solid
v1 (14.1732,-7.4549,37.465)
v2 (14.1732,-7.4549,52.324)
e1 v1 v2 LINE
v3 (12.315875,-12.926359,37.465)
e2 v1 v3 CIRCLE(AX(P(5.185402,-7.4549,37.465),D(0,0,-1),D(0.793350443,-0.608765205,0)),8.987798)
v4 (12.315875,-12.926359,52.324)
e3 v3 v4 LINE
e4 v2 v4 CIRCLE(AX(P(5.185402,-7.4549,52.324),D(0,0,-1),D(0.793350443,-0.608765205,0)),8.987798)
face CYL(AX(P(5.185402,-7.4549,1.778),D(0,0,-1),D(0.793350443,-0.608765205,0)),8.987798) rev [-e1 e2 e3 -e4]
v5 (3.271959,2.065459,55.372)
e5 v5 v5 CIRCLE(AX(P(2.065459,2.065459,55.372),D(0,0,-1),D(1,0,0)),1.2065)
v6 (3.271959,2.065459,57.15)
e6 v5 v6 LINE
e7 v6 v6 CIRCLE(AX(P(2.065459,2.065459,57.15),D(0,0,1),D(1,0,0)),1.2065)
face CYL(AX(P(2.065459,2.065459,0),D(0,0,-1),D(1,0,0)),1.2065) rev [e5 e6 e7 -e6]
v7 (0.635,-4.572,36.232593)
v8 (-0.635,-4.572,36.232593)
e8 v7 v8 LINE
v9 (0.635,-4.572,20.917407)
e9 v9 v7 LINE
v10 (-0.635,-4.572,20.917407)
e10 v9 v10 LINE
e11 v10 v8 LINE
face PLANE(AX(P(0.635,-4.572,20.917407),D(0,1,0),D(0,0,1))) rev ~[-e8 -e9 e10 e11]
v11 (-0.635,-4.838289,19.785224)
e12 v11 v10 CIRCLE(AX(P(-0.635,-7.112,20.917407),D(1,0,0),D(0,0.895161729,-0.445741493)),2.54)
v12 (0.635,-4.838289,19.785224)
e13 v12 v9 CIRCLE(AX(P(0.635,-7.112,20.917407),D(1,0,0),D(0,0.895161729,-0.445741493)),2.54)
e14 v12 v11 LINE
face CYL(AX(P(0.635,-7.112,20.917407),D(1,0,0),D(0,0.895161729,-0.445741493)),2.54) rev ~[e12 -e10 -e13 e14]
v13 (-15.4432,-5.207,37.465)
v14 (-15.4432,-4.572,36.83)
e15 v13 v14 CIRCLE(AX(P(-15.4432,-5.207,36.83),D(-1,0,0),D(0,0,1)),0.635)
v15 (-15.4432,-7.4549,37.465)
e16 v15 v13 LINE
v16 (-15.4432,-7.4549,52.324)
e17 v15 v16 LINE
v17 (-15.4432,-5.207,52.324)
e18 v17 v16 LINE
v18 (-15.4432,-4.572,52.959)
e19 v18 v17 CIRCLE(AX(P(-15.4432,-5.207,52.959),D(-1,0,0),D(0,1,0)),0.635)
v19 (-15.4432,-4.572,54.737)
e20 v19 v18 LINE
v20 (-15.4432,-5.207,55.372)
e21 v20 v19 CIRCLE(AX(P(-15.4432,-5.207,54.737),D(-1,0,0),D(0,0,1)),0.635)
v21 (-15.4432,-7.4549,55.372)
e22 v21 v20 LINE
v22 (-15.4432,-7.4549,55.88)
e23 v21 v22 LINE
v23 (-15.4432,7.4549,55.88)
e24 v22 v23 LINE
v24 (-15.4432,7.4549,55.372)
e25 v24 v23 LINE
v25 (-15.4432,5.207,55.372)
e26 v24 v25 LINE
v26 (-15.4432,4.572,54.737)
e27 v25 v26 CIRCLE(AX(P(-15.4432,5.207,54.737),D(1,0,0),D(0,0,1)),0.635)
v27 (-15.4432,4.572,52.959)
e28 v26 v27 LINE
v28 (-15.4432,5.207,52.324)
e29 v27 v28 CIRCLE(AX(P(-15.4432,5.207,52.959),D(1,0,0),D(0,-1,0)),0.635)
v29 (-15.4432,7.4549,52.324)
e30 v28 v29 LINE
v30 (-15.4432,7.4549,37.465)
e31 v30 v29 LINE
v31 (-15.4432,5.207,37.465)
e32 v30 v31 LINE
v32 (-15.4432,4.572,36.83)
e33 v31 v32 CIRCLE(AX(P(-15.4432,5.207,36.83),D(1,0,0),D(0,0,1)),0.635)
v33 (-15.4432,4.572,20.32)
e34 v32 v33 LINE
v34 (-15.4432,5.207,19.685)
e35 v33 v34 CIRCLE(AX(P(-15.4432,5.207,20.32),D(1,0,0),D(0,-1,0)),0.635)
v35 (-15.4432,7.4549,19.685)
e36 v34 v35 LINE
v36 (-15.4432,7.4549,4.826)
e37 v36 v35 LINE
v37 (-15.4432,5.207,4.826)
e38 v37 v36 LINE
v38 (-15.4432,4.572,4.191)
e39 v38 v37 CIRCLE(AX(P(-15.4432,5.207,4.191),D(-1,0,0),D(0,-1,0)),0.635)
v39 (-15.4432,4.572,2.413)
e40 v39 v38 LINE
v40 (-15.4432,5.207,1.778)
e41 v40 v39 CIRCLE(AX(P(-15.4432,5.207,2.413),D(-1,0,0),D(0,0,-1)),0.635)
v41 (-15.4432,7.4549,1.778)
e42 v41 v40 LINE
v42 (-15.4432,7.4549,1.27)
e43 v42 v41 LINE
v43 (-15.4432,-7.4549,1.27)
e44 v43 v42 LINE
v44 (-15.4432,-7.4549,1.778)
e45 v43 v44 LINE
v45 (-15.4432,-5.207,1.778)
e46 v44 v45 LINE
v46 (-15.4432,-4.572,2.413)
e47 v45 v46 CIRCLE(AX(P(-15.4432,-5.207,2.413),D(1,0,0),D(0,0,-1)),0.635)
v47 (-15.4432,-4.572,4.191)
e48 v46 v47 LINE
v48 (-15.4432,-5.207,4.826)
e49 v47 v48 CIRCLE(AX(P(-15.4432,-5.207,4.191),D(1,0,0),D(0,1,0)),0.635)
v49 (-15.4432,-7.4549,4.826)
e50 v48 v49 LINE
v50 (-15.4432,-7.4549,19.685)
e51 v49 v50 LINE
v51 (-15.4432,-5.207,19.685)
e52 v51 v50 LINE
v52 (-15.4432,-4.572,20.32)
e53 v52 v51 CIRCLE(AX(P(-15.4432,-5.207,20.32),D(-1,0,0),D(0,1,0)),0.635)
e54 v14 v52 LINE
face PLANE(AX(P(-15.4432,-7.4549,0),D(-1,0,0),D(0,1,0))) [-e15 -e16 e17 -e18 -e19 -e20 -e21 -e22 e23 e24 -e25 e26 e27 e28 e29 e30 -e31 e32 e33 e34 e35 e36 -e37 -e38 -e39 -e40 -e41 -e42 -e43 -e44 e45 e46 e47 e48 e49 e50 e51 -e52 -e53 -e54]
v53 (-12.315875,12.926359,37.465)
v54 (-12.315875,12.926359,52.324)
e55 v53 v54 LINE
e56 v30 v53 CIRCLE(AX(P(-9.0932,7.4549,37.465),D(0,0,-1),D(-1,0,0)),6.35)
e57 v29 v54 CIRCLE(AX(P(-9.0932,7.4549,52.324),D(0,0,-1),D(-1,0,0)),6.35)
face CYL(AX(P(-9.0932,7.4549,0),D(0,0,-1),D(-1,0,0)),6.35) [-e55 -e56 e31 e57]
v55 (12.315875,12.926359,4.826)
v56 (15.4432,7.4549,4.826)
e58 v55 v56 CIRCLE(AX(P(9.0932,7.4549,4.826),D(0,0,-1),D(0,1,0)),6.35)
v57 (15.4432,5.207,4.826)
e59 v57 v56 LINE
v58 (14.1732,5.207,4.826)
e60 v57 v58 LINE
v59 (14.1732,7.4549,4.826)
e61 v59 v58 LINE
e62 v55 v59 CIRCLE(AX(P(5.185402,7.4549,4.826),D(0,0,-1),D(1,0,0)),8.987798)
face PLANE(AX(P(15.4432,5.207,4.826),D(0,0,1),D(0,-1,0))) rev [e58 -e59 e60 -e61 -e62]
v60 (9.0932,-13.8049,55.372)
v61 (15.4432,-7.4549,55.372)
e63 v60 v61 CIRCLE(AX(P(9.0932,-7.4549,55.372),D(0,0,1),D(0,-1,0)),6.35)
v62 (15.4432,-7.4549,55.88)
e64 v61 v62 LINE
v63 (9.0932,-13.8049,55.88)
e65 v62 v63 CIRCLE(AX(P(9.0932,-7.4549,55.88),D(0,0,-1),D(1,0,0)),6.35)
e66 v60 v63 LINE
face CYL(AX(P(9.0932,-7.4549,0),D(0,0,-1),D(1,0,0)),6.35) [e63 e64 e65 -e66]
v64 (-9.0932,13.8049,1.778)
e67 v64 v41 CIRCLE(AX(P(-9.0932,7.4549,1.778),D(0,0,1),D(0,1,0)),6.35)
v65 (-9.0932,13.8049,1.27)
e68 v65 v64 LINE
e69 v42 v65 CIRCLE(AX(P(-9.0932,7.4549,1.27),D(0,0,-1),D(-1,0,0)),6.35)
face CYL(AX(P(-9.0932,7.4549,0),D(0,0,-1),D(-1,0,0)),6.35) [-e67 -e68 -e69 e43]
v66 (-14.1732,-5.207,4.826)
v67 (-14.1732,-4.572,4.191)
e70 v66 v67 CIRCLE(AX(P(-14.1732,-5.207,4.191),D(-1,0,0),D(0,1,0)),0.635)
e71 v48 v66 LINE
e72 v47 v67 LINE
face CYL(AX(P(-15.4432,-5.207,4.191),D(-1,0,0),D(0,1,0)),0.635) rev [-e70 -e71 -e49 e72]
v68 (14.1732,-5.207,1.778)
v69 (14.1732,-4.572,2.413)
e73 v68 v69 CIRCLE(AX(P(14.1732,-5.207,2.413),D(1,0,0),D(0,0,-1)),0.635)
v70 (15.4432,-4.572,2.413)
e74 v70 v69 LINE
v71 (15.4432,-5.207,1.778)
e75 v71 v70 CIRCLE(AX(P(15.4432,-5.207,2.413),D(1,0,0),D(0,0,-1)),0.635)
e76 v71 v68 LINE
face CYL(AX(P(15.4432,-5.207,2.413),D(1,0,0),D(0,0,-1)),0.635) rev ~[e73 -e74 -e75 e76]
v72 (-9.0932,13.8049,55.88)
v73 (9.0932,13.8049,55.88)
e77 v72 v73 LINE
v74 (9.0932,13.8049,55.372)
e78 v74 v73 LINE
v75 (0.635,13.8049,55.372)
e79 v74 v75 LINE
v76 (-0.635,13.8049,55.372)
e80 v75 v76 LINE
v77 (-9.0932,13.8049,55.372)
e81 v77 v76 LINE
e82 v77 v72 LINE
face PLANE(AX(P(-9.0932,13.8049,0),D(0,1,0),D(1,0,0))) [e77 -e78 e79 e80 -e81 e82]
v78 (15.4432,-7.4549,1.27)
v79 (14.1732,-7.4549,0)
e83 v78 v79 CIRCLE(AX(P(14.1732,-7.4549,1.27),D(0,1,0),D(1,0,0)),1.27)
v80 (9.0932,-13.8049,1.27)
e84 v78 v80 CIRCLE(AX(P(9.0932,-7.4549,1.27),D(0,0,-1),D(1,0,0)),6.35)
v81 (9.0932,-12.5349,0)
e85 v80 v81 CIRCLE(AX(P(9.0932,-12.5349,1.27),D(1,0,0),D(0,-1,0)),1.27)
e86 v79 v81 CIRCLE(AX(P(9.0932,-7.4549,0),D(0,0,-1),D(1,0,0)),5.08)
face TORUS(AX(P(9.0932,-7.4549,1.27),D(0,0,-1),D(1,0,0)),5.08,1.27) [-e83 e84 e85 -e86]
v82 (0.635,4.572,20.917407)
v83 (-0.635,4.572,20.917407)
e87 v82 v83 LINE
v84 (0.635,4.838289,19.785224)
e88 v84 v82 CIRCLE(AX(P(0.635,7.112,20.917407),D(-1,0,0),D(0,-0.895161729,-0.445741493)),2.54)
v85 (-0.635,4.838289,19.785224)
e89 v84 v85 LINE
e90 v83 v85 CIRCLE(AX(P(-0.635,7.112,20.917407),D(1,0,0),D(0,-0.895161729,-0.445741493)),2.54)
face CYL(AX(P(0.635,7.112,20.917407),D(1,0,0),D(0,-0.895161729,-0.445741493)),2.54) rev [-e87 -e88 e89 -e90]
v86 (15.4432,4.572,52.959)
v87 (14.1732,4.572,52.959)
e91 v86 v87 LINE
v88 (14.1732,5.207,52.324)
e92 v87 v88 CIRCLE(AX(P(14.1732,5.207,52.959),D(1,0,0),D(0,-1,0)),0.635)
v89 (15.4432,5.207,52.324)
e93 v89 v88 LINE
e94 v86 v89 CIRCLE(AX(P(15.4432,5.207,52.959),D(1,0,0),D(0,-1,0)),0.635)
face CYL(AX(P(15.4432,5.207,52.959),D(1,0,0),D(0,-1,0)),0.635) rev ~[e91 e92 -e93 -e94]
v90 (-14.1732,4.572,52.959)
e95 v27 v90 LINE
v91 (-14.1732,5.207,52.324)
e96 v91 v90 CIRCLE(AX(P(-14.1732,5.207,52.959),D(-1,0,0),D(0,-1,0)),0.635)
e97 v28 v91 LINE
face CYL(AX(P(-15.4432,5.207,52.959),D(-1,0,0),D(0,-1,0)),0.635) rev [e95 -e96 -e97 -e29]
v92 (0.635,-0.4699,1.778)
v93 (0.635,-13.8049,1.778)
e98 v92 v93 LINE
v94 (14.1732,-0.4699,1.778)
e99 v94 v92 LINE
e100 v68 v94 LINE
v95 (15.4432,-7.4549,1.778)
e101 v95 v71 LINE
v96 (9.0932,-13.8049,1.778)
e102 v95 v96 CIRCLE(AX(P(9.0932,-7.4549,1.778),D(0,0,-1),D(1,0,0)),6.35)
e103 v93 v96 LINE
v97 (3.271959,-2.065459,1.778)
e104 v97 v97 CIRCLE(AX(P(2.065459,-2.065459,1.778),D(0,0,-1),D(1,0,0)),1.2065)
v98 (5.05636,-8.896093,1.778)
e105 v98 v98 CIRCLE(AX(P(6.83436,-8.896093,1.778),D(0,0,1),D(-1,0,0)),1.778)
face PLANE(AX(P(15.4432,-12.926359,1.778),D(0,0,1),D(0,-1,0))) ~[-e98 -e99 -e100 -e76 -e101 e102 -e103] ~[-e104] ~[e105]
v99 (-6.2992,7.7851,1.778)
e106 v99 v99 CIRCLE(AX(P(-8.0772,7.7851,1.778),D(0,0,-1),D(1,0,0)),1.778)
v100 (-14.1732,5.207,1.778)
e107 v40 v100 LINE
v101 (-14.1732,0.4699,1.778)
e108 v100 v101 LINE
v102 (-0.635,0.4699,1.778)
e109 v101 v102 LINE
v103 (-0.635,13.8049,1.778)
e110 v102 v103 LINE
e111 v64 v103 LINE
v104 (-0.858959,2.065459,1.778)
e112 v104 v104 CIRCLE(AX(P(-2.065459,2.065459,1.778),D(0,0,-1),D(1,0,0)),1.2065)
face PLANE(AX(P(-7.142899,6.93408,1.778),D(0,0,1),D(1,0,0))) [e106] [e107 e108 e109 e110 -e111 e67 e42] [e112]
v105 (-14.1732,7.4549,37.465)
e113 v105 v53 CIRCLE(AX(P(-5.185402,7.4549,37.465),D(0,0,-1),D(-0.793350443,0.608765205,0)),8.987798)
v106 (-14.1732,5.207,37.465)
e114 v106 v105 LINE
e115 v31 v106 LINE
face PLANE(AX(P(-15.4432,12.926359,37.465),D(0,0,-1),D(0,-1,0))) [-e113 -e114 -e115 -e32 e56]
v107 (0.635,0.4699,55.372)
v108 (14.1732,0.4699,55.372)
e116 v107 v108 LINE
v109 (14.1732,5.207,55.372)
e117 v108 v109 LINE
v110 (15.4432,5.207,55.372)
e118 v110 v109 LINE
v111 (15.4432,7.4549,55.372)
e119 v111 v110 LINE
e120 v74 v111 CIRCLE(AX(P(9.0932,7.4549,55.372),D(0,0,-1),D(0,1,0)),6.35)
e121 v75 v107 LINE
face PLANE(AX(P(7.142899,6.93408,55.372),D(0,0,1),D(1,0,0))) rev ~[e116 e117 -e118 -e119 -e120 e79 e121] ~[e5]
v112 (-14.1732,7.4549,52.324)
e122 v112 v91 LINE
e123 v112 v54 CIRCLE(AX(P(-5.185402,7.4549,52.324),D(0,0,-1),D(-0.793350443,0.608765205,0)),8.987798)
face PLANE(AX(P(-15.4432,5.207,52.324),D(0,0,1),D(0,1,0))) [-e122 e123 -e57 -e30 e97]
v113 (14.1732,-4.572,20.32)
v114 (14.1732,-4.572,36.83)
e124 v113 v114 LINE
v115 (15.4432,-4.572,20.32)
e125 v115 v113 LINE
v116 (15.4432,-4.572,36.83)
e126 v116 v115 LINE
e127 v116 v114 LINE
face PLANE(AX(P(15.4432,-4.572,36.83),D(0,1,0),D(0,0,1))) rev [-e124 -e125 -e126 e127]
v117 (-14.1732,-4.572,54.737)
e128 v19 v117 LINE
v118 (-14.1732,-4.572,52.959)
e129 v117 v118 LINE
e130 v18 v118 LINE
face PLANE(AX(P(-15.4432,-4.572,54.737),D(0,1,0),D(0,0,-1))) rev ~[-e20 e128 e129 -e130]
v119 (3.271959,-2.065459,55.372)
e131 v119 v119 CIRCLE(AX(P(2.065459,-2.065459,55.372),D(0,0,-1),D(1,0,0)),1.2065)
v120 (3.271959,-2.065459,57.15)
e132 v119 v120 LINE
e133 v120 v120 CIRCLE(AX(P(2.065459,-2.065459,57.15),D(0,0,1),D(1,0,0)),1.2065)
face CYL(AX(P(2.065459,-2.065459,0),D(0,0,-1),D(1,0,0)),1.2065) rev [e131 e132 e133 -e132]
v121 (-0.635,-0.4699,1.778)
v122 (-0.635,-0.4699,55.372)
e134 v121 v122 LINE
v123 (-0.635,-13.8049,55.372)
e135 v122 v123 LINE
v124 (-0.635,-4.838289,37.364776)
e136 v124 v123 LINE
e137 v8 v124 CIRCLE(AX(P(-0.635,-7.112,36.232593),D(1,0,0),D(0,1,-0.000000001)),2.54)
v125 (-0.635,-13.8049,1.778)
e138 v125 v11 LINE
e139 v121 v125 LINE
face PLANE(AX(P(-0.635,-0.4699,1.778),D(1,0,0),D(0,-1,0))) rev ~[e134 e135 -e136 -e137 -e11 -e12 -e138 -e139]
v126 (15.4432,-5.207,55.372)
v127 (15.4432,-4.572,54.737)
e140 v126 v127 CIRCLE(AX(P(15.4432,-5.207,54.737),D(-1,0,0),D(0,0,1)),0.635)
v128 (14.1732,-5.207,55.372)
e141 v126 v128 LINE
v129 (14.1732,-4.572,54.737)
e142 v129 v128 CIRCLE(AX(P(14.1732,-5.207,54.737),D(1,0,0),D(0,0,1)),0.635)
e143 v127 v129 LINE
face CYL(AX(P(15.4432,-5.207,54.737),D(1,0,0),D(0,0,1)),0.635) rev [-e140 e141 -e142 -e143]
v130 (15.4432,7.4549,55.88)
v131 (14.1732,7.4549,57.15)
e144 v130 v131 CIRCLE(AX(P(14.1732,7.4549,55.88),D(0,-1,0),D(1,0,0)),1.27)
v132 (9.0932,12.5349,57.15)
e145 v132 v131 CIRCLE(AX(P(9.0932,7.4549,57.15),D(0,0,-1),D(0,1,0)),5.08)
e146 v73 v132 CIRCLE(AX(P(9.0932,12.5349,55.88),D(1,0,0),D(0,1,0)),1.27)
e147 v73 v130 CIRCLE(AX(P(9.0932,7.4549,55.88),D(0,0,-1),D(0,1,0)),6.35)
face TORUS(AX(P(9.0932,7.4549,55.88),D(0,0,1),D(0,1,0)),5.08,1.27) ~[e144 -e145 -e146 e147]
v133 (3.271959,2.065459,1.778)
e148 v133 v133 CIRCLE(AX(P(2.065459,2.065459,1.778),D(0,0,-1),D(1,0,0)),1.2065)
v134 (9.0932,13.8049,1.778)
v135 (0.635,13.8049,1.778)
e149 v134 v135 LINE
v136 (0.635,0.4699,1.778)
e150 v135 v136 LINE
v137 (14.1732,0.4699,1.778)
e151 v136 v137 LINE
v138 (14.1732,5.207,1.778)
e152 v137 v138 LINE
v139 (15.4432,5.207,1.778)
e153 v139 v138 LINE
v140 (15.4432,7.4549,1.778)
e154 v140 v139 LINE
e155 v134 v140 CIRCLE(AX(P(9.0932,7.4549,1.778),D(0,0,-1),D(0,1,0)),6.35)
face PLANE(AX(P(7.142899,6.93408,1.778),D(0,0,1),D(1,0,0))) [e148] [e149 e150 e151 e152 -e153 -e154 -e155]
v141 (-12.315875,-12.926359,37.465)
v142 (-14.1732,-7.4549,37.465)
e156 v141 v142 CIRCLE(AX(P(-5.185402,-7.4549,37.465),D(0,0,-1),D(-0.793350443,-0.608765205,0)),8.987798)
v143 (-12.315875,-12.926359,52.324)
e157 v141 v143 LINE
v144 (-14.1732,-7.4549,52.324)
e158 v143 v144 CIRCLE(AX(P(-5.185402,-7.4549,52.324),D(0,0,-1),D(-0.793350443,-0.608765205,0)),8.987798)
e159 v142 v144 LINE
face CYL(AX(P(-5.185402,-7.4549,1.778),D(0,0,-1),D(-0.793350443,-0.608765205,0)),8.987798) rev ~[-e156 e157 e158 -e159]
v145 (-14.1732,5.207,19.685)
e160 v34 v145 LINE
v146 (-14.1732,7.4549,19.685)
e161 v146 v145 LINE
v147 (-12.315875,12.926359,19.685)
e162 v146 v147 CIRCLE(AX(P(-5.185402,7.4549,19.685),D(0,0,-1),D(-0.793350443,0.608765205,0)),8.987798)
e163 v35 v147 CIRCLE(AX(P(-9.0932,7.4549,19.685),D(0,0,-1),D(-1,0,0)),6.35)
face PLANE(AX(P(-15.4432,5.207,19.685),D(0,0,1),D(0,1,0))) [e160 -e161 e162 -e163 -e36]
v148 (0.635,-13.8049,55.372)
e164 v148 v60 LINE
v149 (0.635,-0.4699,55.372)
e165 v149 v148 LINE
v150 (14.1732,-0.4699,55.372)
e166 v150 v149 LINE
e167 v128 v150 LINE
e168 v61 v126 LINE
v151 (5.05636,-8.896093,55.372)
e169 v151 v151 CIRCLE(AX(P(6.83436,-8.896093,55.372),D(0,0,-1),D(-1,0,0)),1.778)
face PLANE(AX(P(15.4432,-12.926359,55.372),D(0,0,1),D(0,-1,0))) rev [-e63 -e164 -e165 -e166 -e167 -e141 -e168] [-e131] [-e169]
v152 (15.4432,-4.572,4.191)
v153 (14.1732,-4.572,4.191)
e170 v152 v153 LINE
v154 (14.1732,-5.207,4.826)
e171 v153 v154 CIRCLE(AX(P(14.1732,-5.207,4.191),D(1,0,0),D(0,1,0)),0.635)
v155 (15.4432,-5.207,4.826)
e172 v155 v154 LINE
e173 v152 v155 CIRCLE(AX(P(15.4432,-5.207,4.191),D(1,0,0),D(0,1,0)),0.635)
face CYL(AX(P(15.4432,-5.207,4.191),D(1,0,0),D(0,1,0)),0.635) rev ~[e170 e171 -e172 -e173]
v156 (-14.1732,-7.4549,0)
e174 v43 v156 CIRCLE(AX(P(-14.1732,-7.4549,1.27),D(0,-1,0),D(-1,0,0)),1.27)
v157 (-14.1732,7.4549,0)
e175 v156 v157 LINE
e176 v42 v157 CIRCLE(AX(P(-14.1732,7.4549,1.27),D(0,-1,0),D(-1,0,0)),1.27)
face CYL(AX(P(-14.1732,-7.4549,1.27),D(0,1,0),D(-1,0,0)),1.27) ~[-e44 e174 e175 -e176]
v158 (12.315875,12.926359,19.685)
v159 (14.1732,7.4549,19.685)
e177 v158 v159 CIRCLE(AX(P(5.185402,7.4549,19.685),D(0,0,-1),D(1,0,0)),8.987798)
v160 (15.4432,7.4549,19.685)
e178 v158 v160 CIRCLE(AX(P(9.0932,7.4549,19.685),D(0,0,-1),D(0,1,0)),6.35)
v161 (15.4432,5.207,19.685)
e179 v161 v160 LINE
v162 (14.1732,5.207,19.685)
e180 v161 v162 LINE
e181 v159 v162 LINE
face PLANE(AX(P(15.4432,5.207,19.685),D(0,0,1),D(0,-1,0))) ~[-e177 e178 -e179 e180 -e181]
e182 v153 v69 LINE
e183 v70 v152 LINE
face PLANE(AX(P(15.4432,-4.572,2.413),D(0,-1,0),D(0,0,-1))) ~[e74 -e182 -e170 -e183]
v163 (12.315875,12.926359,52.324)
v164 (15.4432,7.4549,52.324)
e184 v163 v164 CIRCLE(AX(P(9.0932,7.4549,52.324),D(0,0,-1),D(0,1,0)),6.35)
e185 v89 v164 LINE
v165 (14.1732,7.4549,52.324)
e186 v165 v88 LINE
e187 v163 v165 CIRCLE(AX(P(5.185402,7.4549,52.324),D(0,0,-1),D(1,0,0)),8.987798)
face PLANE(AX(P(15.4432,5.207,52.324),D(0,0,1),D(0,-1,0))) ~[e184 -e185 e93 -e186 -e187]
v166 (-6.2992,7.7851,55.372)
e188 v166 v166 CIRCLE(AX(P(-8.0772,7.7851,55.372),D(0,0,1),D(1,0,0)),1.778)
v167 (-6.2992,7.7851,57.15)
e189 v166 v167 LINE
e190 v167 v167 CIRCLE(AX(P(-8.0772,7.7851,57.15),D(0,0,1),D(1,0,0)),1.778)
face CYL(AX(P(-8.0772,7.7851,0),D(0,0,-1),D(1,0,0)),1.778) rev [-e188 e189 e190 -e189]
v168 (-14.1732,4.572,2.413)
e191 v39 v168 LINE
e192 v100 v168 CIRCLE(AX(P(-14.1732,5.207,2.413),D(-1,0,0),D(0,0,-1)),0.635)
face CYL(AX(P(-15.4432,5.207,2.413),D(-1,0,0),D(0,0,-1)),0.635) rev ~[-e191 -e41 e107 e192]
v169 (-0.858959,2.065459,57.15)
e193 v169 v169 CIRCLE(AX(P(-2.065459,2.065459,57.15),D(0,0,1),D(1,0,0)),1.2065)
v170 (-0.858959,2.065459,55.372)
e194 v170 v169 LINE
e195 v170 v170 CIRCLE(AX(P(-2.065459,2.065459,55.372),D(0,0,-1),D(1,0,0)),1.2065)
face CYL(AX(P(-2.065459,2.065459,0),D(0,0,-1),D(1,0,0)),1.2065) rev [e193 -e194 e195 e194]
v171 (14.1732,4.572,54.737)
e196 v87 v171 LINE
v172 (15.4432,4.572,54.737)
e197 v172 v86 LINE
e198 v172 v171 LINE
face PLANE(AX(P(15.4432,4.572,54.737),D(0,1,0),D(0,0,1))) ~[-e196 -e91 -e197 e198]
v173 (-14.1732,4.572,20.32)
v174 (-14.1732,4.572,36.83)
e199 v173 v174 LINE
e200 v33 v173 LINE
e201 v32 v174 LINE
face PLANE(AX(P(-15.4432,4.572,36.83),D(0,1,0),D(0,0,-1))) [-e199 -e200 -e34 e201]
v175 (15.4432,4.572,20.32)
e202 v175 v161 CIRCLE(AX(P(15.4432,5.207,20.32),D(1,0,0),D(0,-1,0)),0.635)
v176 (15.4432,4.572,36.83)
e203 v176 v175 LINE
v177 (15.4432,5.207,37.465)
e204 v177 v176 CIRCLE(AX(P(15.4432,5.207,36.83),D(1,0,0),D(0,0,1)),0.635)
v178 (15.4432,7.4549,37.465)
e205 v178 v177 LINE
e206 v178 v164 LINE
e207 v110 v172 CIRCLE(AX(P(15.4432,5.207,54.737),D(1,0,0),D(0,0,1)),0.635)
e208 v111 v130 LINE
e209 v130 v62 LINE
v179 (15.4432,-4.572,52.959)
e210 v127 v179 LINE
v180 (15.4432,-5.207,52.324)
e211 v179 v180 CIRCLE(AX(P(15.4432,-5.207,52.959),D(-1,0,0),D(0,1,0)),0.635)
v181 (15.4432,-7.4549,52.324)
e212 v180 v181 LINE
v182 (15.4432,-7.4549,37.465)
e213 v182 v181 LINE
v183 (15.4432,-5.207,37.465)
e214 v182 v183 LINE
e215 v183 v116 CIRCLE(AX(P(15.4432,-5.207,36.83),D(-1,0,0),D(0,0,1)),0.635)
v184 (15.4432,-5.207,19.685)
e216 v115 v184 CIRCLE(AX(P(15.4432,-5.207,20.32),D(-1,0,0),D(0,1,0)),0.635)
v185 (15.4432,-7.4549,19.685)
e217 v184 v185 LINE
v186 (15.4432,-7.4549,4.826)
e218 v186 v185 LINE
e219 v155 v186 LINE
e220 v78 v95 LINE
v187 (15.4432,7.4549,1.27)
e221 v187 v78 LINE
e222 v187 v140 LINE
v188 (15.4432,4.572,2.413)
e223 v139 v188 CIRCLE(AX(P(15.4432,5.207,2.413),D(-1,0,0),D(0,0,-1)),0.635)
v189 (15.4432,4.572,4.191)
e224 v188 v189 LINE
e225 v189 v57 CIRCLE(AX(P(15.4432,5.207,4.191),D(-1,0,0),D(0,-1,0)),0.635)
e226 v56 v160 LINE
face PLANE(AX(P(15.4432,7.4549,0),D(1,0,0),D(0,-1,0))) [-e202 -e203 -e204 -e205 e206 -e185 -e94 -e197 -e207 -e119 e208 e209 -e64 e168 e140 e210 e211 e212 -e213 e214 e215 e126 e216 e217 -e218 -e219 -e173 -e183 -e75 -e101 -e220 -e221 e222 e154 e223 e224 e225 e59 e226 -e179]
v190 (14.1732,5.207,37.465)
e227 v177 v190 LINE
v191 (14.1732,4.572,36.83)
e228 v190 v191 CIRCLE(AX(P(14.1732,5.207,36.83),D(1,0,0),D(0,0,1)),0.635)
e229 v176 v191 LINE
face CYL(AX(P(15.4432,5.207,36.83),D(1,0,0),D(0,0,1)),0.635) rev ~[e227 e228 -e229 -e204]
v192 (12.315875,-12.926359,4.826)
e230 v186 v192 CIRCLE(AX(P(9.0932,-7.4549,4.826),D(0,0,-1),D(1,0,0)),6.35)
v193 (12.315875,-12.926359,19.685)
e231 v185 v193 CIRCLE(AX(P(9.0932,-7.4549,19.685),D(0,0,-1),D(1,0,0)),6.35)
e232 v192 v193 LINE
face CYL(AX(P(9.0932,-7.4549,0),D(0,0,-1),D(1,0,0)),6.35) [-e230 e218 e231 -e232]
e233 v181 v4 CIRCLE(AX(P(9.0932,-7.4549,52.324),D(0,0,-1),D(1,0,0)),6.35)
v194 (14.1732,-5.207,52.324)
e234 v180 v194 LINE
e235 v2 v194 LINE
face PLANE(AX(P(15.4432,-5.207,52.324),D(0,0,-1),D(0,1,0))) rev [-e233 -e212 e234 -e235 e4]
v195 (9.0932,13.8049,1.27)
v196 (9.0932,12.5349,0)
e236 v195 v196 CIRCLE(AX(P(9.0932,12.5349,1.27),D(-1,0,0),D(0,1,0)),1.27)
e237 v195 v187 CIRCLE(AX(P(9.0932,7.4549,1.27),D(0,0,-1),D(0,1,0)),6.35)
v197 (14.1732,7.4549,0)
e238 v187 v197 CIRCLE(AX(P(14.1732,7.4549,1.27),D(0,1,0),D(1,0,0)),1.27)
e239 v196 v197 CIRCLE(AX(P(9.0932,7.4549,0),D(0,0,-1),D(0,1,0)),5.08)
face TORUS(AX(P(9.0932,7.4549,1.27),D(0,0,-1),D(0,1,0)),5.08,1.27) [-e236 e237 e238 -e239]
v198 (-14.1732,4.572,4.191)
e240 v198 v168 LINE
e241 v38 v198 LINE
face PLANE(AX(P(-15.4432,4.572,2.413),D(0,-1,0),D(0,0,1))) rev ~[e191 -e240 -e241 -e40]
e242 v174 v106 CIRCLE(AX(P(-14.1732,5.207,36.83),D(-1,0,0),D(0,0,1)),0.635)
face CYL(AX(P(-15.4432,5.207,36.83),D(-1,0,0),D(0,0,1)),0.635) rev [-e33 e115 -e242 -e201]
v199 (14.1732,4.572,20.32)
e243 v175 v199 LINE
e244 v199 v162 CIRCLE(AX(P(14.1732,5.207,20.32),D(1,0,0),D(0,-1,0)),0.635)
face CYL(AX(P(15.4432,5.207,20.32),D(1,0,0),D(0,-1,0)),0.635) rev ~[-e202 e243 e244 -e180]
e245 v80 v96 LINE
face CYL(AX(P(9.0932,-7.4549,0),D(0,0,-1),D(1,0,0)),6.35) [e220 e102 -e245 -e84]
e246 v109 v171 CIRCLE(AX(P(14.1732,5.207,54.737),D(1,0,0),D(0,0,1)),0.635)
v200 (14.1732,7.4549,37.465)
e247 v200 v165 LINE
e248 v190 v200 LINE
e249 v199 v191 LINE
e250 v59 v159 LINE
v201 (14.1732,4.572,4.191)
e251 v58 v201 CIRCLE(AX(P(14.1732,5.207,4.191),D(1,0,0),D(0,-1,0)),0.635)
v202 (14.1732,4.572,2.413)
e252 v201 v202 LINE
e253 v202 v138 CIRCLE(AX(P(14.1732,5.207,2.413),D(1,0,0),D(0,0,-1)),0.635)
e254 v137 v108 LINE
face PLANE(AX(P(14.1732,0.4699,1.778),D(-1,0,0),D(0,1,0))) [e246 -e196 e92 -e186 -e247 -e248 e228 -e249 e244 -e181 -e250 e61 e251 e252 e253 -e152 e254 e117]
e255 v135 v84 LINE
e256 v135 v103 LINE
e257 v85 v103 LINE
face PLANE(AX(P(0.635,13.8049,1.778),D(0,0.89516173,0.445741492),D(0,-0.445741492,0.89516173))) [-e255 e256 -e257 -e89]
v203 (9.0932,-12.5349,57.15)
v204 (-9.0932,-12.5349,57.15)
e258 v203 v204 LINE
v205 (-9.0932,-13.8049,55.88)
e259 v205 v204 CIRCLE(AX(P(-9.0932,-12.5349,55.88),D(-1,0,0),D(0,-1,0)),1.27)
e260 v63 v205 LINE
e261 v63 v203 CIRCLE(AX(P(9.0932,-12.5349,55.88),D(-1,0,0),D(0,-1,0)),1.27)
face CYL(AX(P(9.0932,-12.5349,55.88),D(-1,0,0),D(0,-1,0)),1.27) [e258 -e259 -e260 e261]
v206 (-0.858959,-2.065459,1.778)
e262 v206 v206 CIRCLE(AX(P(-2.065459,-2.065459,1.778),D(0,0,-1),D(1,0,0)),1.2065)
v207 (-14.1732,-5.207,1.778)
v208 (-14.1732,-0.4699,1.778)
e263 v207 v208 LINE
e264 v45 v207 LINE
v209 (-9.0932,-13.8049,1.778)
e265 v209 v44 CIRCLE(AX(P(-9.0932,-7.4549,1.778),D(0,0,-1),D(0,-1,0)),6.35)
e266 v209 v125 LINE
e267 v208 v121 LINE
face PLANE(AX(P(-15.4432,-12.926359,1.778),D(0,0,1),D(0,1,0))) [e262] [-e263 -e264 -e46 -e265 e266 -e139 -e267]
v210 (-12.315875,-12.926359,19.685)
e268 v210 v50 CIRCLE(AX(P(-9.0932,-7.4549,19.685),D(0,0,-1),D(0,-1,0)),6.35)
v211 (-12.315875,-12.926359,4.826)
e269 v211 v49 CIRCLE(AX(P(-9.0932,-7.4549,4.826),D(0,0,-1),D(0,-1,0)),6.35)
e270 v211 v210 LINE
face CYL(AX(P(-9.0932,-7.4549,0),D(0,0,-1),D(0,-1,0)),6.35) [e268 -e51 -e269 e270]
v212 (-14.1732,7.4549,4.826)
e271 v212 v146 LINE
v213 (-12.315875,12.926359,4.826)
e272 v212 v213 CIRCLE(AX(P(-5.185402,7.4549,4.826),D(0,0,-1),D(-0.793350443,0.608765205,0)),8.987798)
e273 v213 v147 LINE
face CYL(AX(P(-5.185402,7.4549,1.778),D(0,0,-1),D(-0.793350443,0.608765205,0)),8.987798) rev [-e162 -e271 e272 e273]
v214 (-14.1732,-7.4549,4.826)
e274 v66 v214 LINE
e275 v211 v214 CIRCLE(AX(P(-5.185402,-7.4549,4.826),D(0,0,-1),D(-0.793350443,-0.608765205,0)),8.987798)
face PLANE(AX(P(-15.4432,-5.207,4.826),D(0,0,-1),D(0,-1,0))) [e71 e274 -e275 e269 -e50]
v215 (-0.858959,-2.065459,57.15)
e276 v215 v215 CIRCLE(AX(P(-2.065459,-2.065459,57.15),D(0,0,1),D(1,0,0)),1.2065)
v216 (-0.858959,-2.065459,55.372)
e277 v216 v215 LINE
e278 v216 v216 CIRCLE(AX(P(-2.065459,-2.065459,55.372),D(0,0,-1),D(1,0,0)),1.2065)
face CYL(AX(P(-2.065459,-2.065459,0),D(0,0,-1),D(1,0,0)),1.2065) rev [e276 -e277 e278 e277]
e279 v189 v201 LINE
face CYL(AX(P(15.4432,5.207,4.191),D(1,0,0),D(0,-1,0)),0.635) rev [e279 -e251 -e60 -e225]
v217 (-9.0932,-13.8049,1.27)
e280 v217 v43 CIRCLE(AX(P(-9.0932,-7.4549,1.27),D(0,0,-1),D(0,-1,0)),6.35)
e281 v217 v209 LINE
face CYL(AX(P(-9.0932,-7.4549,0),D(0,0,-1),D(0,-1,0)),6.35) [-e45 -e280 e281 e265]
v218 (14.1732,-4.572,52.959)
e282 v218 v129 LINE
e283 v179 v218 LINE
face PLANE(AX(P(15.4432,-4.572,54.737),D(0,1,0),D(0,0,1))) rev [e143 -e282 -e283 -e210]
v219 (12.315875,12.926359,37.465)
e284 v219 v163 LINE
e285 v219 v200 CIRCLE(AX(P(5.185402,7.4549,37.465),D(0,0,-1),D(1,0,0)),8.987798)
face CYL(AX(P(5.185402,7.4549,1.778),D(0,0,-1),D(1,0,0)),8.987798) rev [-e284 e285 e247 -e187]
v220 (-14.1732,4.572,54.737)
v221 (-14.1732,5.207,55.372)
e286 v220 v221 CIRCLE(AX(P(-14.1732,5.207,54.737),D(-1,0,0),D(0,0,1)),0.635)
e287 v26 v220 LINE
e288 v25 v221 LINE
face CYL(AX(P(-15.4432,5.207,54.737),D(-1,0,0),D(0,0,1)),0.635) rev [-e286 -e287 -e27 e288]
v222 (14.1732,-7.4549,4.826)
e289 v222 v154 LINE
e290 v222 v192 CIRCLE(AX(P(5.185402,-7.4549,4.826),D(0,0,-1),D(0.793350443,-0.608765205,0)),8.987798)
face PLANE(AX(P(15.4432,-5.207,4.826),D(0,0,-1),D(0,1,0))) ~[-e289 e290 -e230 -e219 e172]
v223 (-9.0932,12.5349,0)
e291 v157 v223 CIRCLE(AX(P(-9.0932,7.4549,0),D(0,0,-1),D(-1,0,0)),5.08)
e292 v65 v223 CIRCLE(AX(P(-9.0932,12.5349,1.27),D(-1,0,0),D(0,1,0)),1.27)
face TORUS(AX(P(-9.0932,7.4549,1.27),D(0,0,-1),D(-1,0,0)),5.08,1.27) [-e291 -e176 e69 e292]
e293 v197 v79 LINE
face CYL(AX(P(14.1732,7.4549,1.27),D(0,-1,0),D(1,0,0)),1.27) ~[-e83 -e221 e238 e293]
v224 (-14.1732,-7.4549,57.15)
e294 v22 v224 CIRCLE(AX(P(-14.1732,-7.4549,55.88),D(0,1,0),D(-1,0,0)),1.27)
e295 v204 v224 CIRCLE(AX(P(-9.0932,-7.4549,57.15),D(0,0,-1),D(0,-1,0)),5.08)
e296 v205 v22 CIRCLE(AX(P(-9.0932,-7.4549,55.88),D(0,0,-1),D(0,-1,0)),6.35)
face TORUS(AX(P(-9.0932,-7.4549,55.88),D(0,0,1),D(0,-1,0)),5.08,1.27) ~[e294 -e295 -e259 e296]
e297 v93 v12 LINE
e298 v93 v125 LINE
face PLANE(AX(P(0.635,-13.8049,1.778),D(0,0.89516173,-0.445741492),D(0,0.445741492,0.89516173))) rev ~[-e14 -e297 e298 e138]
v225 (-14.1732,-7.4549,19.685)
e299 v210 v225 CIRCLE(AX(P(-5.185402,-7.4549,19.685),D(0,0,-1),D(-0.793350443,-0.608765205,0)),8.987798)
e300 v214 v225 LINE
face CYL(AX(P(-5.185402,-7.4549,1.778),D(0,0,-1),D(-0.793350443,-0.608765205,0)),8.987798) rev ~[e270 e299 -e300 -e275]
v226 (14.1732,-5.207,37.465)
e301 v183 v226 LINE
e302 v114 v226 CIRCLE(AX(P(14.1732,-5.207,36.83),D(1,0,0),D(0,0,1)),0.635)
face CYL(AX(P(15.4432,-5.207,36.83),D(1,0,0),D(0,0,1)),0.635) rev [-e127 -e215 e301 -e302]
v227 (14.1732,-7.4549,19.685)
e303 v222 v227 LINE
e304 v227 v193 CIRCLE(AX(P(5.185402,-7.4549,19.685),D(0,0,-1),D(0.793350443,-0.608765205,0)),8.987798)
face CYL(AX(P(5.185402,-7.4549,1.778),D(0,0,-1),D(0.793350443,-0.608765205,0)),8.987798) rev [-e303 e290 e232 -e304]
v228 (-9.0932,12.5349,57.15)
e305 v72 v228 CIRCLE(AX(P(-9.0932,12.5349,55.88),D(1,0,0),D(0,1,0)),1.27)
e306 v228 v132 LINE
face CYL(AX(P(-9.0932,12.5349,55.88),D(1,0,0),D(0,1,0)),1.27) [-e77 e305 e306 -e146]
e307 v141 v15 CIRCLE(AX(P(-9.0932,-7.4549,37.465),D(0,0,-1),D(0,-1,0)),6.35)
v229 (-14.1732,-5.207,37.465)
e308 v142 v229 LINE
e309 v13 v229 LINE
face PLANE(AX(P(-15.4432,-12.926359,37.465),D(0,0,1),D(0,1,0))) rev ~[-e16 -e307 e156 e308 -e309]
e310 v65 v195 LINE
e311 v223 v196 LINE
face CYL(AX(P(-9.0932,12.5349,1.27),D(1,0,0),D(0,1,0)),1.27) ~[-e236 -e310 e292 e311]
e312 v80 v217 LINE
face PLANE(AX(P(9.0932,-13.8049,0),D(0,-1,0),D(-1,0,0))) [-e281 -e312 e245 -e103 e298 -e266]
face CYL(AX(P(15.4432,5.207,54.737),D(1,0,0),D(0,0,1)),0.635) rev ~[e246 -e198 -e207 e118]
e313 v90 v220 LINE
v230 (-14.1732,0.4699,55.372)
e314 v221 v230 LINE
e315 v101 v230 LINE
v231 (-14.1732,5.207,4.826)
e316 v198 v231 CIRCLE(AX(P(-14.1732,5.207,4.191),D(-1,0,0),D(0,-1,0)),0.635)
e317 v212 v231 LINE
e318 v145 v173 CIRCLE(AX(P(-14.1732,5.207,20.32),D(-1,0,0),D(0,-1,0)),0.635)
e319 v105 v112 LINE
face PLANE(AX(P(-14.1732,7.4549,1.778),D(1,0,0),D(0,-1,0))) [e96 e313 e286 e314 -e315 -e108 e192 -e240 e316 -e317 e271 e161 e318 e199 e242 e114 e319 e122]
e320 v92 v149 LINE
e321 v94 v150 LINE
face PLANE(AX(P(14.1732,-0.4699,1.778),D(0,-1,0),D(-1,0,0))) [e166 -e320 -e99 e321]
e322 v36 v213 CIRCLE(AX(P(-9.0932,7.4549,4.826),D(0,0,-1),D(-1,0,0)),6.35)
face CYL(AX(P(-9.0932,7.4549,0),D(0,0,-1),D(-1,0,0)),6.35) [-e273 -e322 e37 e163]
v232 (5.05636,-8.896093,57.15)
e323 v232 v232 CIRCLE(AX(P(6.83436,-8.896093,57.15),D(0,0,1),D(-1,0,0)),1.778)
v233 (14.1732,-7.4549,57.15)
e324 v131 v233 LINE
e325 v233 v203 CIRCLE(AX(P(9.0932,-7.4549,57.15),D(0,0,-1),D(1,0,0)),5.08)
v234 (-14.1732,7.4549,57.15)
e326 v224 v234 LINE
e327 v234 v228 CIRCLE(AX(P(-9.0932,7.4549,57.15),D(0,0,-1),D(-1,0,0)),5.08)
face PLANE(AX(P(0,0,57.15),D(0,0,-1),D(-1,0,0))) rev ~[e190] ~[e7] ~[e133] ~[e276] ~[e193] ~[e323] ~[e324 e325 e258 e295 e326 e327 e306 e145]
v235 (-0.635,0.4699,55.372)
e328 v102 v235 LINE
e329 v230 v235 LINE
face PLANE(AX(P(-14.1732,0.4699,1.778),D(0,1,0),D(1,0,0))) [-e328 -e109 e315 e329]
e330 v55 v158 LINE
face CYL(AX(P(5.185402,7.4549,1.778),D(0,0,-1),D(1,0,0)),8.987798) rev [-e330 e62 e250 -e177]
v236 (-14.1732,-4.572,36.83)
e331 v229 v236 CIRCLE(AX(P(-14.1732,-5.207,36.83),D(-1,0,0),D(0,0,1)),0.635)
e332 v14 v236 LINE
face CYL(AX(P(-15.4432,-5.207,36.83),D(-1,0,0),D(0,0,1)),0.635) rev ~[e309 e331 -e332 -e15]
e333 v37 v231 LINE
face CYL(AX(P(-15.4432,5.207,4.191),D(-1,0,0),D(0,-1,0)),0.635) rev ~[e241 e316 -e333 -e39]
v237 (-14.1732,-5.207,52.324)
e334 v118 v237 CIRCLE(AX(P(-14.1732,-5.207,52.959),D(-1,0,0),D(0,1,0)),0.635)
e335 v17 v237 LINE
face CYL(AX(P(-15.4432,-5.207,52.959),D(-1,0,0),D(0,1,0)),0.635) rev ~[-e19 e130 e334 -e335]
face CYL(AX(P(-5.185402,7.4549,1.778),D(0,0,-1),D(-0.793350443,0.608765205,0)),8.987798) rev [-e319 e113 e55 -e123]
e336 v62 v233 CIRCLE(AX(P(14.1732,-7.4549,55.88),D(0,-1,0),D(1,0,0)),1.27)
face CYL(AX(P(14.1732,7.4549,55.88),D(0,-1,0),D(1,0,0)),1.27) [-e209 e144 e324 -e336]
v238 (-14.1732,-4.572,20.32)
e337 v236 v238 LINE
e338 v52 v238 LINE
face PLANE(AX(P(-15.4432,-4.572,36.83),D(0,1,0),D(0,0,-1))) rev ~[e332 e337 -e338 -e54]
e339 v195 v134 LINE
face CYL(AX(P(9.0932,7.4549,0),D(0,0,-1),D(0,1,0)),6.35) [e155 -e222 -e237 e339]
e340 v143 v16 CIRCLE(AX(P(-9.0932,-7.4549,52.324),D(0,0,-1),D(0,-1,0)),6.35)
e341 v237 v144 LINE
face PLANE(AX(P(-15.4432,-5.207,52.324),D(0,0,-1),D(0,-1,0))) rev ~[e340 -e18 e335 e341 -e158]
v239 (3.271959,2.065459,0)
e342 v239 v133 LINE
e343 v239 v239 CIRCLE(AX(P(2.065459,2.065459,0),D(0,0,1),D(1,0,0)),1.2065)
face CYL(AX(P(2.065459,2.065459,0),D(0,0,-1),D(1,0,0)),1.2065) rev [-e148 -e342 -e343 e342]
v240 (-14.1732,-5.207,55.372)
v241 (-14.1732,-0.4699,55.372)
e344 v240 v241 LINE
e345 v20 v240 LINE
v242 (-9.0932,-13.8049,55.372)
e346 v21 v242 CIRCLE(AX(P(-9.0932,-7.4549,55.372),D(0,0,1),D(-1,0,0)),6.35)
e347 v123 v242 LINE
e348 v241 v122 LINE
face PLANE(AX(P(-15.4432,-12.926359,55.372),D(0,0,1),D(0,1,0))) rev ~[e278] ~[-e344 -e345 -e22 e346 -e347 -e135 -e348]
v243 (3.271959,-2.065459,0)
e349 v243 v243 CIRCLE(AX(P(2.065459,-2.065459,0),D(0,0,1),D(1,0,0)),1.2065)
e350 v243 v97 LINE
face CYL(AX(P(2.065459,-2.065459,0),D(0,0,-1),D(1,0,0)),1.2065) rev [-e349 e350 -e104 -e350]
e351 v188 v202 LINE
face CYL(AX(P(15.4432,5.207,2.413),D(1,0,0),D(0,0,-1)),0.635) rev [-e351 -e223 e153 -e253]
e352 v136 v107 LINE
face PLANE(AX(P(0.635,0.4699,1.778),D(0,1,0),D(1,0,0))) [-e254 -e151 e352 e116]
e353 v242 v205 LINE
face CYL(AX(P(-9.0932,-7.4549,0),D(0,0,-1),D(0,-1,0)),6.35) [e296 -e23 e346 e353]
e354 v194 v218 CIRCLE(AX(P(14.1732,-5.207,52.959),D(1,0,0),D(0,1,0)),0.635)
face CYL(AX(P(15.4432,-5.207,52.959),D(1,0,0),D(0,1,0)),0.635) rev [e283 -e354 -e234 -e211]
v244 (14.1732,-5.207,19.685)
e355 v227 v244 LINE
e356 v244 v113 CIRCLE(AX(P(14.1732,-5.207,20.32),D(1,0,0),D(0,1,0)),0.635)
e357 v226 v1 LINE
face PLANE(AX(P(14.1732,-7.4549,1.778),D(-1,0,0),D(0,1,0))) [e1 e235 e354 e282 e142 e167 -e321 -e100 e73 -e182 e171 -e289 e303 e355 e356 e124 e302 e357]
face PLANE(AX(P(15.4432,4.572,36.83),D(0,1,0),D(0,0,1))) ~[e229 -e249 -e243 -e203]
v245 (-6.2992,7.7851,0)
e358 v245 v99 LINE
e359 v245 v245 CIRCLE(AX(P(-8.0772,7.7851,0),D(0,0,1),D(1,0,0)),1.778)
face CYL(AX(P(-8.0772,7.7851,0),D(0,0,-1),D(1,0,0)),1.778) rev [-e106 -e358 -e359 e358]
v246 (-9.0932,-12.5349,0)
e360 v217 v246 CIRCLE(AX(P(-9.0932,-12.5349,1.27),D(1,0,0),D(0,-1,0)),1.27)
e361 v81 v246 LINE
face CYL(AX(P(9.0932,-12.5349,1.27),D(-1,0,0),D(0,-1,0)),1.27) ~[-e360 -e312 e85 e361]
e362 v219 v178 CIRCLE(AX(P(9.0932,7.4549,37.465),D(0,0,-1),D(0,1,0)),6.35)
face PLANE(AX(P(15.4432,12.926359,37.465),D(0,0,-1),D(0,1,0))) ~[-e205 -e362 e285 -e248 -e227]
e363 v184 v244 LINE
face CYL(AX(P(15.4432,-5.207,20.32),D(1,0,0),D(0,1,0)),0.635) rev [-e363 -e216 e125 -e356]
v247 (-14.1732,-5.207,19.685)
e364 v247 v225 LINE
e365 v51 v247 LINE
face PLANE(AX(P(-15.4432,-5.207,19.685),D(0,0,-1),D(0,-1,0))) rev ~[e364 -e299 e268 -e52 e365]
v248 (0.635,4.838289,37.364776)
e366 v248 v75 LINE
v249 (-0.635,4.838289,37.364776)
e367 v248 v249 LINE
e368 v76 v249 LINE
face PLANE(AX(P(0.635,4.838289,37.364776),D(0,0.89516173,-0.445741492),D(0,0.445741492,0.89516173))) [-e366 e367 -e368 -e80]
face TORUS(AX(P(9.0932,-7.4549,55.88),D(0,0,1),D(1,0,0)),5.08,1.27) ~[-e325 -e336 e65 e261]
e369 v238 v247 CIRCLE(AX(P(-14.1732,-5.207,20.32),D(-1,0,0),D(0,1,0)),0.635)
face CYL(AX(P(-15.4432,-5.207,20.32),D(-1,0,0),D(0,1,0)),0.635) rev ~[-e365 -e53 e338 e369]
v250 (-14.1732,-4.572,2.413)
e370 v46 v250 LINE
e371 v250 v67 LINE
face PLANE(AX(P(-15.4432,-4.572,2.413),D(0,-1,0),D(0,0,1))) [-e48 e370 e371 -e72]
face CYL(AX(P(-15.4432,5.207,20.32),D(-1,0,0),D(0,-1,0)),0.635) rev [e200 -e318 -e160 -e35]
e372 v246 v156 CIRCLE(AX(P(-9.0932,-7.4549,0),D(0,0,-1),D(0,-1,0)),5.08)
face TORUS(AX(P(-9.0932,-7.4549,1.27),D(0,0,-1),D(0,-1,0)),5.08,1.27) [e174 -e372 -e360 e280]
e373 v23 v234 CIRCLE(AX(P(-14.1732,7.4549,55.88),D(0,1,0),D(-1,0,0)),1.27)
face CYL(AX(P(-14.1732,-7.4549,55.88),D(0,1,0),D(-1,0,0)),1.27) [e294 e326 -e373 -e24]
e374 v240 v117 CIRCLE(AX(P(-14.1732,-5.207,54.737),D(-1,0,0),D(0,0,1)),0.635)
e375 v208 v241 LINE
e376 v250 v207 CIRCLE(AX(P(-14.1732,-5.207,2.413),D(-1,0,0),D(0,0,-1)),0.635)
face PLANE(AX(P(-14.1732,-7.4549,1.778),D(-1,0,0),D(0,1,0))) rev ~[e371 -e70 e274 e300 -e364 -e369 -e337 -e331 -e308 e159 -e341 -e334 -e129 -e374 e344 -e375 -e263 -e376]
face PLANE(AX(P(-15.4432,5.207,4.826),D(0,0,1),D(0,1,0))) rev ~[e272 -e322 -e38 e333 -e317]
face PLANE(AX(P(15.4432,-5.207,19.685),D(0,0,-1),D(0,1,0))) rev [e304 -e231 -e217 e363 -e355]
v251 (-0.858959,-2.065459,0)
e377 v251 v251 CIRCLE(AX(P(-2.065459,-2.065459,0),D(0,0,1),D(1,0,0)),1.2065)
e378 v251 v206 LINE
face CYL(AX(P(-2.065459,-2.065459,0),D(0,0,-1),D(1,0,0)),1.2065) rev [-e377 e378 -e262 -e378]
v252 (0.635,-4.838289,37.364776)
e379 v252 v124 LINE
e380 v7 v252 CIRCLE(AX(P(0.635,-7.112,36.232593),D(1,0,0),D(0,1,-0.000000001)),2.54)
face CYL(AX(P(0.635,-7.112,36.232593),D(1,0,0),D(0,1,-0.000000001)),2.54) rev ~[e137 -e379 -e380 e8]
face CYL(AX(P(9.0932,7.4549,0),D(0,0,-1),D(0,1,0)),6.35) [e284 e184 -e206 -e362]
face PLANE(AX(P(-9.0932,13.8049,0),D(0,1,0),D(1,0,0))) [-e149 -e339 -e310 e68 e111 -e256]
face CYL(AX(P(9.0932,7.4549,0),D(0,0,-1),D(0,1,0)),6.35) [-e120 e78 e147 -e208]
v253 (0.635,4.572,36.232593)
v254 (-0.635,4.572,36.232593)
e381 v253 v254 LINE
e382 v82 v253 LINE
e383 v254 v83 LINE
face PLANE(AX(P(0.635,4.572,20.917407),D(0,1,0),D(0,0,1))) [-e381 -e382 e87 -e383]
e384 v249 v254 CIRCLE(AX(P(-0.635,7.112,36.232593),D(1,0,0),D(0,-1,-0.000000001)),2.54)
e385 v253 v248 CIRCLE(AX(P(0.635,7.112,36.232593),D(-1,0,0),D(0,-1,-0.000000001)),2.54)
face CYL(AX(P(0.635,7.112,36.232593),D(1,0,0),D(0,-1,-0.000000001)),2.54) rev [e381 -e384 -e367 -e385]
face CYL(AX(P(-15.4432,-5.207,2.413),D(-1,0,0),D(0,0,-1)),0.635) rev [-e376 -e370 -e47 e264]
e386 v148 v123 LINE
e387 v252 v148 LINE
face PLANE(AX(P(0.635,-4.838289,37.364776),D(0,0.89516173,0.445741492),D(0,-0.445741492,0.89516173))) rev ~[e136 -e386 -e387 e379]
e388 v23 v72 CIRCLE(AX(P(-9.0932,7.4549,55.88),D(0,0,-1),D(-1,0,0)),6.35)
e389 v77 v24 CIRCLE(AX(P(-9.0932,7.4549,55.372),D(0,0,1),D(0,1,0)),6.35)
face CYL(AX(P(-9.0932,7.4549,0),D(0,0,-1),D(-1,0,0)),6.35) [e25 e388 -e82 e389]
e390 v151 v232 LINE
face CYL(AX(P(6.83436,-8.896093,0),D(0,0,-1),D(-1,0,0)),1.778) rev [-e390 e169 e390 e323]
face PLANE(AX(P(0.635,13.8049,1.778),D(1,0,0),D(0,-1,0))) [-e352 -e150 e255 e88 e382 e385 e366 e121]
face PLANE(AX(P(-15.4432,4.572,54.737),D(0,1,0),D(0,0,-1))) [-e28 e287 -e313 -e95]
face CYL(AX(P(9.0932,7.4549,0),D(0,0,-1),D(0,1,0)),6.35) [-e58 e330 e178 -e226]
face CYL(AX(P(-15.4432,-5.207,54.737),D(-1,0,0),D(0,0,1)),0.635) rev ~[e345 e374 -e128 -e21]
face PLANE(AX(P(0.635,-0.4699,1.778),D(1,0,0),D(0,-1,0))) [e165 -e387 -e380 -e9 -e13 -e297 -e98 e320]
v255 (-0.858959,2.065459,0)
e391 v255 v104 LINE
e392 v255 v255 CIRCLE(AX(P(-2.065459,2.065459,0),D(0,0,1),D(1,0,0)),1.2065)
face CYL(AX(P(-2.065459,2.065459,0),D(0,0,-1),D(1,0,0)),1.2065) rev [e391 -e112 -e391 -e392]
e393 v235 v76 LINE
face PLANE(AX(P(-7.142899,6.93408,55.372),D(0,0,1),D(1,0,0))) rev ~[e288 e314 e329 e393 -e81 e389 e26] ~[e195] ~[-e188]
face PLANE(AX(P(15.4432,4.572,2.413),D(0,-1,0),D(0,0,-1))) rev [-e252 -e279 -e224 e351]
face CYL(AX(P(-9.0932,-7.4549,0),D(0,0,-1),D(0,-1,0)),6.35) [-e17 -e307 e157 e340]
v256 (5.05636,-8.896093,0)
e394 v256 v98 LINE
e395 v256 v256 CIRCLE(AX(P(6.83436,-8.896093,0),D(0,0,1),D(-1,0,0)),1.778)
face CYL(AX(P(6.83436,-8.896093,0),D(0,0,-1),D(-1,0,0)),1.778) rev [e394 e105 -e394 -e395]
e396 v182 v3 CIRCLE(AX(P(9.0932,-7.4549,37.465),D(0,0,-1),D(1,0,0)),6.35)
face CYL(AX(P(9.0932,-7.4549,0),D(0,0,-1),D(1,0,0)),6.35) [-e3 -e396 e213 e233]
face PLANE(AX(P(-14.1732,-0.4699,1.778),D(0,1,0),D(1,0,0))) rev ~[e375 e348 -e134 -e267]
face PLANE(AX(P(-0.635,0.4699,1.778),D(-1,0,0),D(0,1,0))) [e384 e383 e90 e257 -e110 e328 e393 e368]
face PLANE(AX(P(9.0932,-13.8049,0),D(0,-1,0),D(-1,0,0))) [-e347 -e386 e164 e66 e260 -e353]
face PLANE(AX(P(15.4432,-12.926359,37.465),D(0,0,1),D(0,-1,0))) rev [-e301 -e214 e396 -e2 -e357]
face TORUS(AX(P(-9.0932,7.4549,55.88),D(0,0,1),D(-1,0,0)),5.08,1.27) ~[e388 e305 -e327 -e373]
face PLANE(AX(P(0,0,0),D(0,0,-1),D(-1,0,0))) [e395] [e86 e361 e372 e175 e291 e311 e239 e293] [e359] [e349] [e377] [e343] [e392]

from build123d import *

# Parameters (mm, degrees)
SKETCH1_R           = 1.778
SKETCH1_R_2         = 1.2065
BOSS_EXTRUDE1_DEPTH = 57.15
CUT_EXTRUDE1_DEPTH  = 53.594
CUT_EXTRUDE2_DEPTH  = 8.128
FILLET2_R           = 1.27
FILLET3_R           = 1.27
CUT_EXTRUDE3_DEPTH  = 3.048


with BuildPart() as part:
    # Sketch1 → Boss-Extrude1 (new body)
    with BuildSketch(Plane.XY):
        with BuildLine():
            Line((-9.0932, 13.8049), (9.0932, 13.8049))
            ThreePointArc((9.0932, 13.8049), (13.583328061, 11.945028061), (15.4432, 7.4549))
            Line((15.4432, 7.4549), (15.4432, -7.4549))
            ThreePointArc((15.4432, -7.4549), (13.583328061, -11.945028061), (9.0932, -13.8049))
            Line((9.0932, -13.8049), (-9.0932, -13.8049))
            ThreePointArc((-9.0932, -13.8049), (-13.583328061, -11.945028061), (-15.4432, -7.4549))
            Line((-15.4432, -7.4549), (-15.4432, 7.4549))
            ThreePointArc((-15.4432, 7.4549), (-13.583328061, 11.945028061), (-9.0932, 13.8049))
        make_face()
        with Locations((-8.0772, 7.7851)):
            Circle(SKETCH1_R, mode=Mode.SUBTRACT)
        with Locations(Location((6.834359756, -8.896092883, 0), (0, 0, 180))):
            Circle(SKETCH1_R, mode=Mode.SUBTRACT)
        with Locations((2.065458908, 2.065458908)):
            Circle(SKETCH1_R_2, mode=Mode.SUBTRACT)
        with Locations((2.065458908, -2.065458908)):
            Circle(SKETCH1_R_2, mode=Mode.SUBTRACT)
        with Locations((-2.065458908, -2.065458908)):
            Circle(SKETCH1_R_2, mode=Mode.SUBTRACT)
        with Locations((-2.065458908, 2.065458908)):
            Circle(SKETCH1_R_2, mode=Mode.SUBTRACT)
    extrude(amount=BOSS_EXTRUDE1_DEPTH)

    # Sketch2 → Cut-Extrude1 (cut)
    with BuildSketch(Plane(origin=(0, 0, 1.778), x_dir=(-1, 0, 0), z_dir=(0, 0, -1))):
        with BuildLine():
            Line((-12.315875439, 12.926358947), (-12.315875439, 13.8049))
            Line((-12.315875439, 13.8049), (-0.635, 13.8049))
            Line((-0.635, 13.8049), (-0.635, 0.4699))
            Line((-0.635, 0.4699), (-14.1732, 0.4699))
            Line((-14.1732, 0.4699), (-14.1732, 7.4549))
            ThreePointArc((-14.1732, 7.4549), (-13.696211827, 10.343953372), (-12.315875439, 12.926358947))
        make_face()
        with BuildLine():
            Line((14.1732, 0.4699), (0.635, 0.4699))
            Line((0.635, 0.4699), (0.635, 13.8049))
            Line((0.635, 13.8049), (12.315875439, 13.8049))
            Line((12.315875439, 13.8049), (12.315875439, 12.926358947))
            ThreePointArc((12.315875439, 12.926358947), (13.696211827, 10.343953372), (14.1732, 7.4549))
            Line((14.1732, 7.4549), (14.1732, 0.4699))
        make_face()
        with BuildLine():
            Line((-14.1732, -7.4549), (-14.1732, -0.4699))
            Line((-14.1732, -0.4699), (-0.635, -0.4699))
            Line((-0.635, -0.4699), (-0.635, -13.8049))
            Line((-0.635, -13.8049), (-12.315875439, -13.8049))
            Line((-12.315875439, -13.8049), (-12.315875439, -12.926358947))
            ThreePointArc((-12.315875439, -12.926358947), (-13.696211827, -10.343953372), (-14.1732, -7.4549))
        make_face()
        with BuildLine():
            Line((14.1732, -0.4699), (0.635, -0.4699))
            Line((0.635, -0.4699), (0.635, -13.8049))
            Line((0.635, -13.8049), (12.315875439, -13.8049))
            Line((12.315875439, -13.8049), (12.315875439, -12.926358947))
            ThreePointArc((12.315875439, -12.926358947), (13.696211827, -10.343953372), (14.1732, -7.4549))
            Line((14.1732, -7.4549), (14.1732, -0.4699))
        make_face()
    extrude(amount=-CUT_EXTRUDE1_DEPTH, mode=Mode.SUBTRACT)

    # Sketch3 → Cut-Extrude2 (cut)
    with BuildSketch(Plane.ZY.offset(15.4432)):
        with BuildLine():
            Line((1.778, 12.926358947), (1.778, 5.207))
            ThreePointArc((1.778, 5.207), (1.963987194, 4.757987194), (2.413, 4.572))
            Line((2.413, 4.572), (4.191, 4.572))
            ThreePointArc((4.191, 4.572), (4.640012806, 4.757987194), (4.826, 5.207))
            Line((4.826, 5.207), (4.826, 12.926358947))
            Line((4.826, 12.926358947), (1.778, 12.926358947))
        make_face()
        with BuildLine():
            Line((54.737, 4.572), (52.959, 4.572))
            ThreePointArc((52.959, 4.572), (52.509987194, 4.757987194), (52.324, 5.207))
            Line((52.324, 5.207), (52.324, 12.926358947))
            Line((52.324, 12.926358947), (55.372, 12.926358947))
            Line((55.372, 12.926358947), (55.372, 5.207))
            ThreePointArc((55.372, 5.207), (55.186012806, 4.757987194), (54.737, 4.572))
        make_face()
        with BuildLine():
            Line((2.413, -4.572), (4.191, -4.572))
            ThreePointArc((4.191, -4.572), (4.640012806, -4.757987194), (4.826, -5.207))
            Line((4.826, -5.207), (4.826, -12.926358947))
            Line((4.826, -12.926358947), (1.778, -12.926358947))
            Line((1.778, -12.926358947), (1.778, -5.207))
            ThreePointArc((1.778, -5.207), (1.963987194, -4.757987194), (2.413, -4.572))
        make_face()
        with BuildLine():
            Line((54.737, -4.572), (52.959, -4.572))
            ThreePointArc((52.959, -4.572), (52.509987194, -4.757987194), (52.324, -5.207))
            Line((52.324, -5.207), (52.324, -12.926358947))
            Line((52.324, -12.926358947), (55.372, -12.926358947))
            Line((55.372, -12.926358947), (55.372, -5.207))
            ThreePointArc((55.372, -5.207), (55.186012806, -4.757987194), (54.737, -4.572))
        make_face()
        with BuildLine():
            Line((19.685, 12.926358947), (37.465, 12.926358947))
            Line((37.465, 12.926358947), (37.465, 5.207))
            ThreePointArc((37.465, 5.207), (37.279012806, 4.757987194), (36.83, 4.572))
            Line((36.83, 4.572), (20.32, 4.572))
            ThreePointArc((20.32, 4.572), (19.870987194, 4.757987194), (19.685, 5.207))
            Line((19.685, 5.207), (19.685, 12.926358947))
        make_face()
        with BuildLine():
            Line((37.465, -12.926358947), (37.465, -5.207))
            ThreePointArc((37.465, -5.207), (37.279012806, -4.757987194), (36.83, -4.572))
            Line((36.83, -4.572), (20.32, -4.572))
            ThreePointArc((20.32, -4.572), (19.870987194, -4.757987194), (19.685, -5.207))
            Line((19.685, -5.207), (19.685, -12.926358947))
            Line((19.685, -12.926358947), (37.465, -12.926358947))
        make_face()
    cut_extrude2 = extrude(amount=-CUT_EXTRUDE2_DEPTH, mode=Mode.SUBTRACT)

    # Mirror1: Cut-Extrude2 across plane
    add(cut_extrude2.mirror(Plane(origin=(0, 0, 0), x_dir=(0, 0, 1), z_dir=(1, 0, 0))), mode=Mode.SUBTRACT)

    # Fillet2
    fillet2_edges = [part.edges().sort_by_distance(p)[0] for p in [
        (-13.583328061, 11.945028061, 57.15),
        (-15.4432, 0, 57.15),
        (-13.583328061, -11.945028061, 57.15),
        (0, -13.8049, 57.15),
        (13.583328061, -11.945028061, 57.15),
        (15.4432, 0, 57.15),
        (13.583328061, 11.945028061, 57.15),
        (0, 13.8049, 57.15),
    ]]
    fillet(fillet2_edges, radius=FILLET2_R)

    # Fillet3
    fillet3_edges = [part.edges().sort_by_distance(p)[0] for p in [
        (0, 13.8049, 0),
        (13.583328061, 11.945028061, 0),
        (15.4432, 0, 0),
        (13.583328061, -11.945028061, 0),
        (0, -13.8049, 0),
        (-13.583328061, -11.945028061, 0),
        (-15.4432, 0, 0),
        (-13.583328061, 11.945028061, 0),
    ]]
    fillet(fillet3_edges, radius=FILLET3_R)

    # Sketch4 → Cut-Extrude3 (cut)
    with BuildSketch(Plane(origin=(0.635, 0, 0), x_dir=(0, 0, -1), z_dir=(1, 0, 0))):
        with BuildLine():
            Line((-20.917407266, 4.572), (-36.232592734, 4.572))
            ThreePointArc((-36.232592734, 4.572), (-36.814131461, 4.63946836), (-37.364776122, 4.838289206))
            Line((-37.364776122, 4.838289206), (-55.372, 13.8049))
            Line((-55.372, 13.8049), (-1.778, 13.8049))
            Line((-1.778, 13.8049), (-19.785223878, 4.838289206))
            ThreePointArc((-19.785223878, 4.838289206), (-20.335868539, 4.63946836), (-20.917407266, 4.572))
        make_face()
        with BuildLine():
            Line((-55.372, -13.8049), (-1.778, -13.8049))
            Line((-1.778, -13.8049), (-19.785223878, -4.838289206))
            ThreePointArc((-19.785223878, -4.838289206), (-20.335868539, -4.63946836), (-20.917407266, -4.572))
            Line((-20.917407266, -4.572), (-36.232592734, -4.572))
            ThreePointArc((-36.232592734, -4.572), (-36.814131461, -4.63946836), (-37.364776122, -4.838289206))
            Line((-37.364776122, -4.838289206), (-55.372, -13.8049))
        make_face()
    extrude(amount=-CUT_EXTRUDE3_DEPTH, mode=Mode.SUBTRACT)


solid = part.part
